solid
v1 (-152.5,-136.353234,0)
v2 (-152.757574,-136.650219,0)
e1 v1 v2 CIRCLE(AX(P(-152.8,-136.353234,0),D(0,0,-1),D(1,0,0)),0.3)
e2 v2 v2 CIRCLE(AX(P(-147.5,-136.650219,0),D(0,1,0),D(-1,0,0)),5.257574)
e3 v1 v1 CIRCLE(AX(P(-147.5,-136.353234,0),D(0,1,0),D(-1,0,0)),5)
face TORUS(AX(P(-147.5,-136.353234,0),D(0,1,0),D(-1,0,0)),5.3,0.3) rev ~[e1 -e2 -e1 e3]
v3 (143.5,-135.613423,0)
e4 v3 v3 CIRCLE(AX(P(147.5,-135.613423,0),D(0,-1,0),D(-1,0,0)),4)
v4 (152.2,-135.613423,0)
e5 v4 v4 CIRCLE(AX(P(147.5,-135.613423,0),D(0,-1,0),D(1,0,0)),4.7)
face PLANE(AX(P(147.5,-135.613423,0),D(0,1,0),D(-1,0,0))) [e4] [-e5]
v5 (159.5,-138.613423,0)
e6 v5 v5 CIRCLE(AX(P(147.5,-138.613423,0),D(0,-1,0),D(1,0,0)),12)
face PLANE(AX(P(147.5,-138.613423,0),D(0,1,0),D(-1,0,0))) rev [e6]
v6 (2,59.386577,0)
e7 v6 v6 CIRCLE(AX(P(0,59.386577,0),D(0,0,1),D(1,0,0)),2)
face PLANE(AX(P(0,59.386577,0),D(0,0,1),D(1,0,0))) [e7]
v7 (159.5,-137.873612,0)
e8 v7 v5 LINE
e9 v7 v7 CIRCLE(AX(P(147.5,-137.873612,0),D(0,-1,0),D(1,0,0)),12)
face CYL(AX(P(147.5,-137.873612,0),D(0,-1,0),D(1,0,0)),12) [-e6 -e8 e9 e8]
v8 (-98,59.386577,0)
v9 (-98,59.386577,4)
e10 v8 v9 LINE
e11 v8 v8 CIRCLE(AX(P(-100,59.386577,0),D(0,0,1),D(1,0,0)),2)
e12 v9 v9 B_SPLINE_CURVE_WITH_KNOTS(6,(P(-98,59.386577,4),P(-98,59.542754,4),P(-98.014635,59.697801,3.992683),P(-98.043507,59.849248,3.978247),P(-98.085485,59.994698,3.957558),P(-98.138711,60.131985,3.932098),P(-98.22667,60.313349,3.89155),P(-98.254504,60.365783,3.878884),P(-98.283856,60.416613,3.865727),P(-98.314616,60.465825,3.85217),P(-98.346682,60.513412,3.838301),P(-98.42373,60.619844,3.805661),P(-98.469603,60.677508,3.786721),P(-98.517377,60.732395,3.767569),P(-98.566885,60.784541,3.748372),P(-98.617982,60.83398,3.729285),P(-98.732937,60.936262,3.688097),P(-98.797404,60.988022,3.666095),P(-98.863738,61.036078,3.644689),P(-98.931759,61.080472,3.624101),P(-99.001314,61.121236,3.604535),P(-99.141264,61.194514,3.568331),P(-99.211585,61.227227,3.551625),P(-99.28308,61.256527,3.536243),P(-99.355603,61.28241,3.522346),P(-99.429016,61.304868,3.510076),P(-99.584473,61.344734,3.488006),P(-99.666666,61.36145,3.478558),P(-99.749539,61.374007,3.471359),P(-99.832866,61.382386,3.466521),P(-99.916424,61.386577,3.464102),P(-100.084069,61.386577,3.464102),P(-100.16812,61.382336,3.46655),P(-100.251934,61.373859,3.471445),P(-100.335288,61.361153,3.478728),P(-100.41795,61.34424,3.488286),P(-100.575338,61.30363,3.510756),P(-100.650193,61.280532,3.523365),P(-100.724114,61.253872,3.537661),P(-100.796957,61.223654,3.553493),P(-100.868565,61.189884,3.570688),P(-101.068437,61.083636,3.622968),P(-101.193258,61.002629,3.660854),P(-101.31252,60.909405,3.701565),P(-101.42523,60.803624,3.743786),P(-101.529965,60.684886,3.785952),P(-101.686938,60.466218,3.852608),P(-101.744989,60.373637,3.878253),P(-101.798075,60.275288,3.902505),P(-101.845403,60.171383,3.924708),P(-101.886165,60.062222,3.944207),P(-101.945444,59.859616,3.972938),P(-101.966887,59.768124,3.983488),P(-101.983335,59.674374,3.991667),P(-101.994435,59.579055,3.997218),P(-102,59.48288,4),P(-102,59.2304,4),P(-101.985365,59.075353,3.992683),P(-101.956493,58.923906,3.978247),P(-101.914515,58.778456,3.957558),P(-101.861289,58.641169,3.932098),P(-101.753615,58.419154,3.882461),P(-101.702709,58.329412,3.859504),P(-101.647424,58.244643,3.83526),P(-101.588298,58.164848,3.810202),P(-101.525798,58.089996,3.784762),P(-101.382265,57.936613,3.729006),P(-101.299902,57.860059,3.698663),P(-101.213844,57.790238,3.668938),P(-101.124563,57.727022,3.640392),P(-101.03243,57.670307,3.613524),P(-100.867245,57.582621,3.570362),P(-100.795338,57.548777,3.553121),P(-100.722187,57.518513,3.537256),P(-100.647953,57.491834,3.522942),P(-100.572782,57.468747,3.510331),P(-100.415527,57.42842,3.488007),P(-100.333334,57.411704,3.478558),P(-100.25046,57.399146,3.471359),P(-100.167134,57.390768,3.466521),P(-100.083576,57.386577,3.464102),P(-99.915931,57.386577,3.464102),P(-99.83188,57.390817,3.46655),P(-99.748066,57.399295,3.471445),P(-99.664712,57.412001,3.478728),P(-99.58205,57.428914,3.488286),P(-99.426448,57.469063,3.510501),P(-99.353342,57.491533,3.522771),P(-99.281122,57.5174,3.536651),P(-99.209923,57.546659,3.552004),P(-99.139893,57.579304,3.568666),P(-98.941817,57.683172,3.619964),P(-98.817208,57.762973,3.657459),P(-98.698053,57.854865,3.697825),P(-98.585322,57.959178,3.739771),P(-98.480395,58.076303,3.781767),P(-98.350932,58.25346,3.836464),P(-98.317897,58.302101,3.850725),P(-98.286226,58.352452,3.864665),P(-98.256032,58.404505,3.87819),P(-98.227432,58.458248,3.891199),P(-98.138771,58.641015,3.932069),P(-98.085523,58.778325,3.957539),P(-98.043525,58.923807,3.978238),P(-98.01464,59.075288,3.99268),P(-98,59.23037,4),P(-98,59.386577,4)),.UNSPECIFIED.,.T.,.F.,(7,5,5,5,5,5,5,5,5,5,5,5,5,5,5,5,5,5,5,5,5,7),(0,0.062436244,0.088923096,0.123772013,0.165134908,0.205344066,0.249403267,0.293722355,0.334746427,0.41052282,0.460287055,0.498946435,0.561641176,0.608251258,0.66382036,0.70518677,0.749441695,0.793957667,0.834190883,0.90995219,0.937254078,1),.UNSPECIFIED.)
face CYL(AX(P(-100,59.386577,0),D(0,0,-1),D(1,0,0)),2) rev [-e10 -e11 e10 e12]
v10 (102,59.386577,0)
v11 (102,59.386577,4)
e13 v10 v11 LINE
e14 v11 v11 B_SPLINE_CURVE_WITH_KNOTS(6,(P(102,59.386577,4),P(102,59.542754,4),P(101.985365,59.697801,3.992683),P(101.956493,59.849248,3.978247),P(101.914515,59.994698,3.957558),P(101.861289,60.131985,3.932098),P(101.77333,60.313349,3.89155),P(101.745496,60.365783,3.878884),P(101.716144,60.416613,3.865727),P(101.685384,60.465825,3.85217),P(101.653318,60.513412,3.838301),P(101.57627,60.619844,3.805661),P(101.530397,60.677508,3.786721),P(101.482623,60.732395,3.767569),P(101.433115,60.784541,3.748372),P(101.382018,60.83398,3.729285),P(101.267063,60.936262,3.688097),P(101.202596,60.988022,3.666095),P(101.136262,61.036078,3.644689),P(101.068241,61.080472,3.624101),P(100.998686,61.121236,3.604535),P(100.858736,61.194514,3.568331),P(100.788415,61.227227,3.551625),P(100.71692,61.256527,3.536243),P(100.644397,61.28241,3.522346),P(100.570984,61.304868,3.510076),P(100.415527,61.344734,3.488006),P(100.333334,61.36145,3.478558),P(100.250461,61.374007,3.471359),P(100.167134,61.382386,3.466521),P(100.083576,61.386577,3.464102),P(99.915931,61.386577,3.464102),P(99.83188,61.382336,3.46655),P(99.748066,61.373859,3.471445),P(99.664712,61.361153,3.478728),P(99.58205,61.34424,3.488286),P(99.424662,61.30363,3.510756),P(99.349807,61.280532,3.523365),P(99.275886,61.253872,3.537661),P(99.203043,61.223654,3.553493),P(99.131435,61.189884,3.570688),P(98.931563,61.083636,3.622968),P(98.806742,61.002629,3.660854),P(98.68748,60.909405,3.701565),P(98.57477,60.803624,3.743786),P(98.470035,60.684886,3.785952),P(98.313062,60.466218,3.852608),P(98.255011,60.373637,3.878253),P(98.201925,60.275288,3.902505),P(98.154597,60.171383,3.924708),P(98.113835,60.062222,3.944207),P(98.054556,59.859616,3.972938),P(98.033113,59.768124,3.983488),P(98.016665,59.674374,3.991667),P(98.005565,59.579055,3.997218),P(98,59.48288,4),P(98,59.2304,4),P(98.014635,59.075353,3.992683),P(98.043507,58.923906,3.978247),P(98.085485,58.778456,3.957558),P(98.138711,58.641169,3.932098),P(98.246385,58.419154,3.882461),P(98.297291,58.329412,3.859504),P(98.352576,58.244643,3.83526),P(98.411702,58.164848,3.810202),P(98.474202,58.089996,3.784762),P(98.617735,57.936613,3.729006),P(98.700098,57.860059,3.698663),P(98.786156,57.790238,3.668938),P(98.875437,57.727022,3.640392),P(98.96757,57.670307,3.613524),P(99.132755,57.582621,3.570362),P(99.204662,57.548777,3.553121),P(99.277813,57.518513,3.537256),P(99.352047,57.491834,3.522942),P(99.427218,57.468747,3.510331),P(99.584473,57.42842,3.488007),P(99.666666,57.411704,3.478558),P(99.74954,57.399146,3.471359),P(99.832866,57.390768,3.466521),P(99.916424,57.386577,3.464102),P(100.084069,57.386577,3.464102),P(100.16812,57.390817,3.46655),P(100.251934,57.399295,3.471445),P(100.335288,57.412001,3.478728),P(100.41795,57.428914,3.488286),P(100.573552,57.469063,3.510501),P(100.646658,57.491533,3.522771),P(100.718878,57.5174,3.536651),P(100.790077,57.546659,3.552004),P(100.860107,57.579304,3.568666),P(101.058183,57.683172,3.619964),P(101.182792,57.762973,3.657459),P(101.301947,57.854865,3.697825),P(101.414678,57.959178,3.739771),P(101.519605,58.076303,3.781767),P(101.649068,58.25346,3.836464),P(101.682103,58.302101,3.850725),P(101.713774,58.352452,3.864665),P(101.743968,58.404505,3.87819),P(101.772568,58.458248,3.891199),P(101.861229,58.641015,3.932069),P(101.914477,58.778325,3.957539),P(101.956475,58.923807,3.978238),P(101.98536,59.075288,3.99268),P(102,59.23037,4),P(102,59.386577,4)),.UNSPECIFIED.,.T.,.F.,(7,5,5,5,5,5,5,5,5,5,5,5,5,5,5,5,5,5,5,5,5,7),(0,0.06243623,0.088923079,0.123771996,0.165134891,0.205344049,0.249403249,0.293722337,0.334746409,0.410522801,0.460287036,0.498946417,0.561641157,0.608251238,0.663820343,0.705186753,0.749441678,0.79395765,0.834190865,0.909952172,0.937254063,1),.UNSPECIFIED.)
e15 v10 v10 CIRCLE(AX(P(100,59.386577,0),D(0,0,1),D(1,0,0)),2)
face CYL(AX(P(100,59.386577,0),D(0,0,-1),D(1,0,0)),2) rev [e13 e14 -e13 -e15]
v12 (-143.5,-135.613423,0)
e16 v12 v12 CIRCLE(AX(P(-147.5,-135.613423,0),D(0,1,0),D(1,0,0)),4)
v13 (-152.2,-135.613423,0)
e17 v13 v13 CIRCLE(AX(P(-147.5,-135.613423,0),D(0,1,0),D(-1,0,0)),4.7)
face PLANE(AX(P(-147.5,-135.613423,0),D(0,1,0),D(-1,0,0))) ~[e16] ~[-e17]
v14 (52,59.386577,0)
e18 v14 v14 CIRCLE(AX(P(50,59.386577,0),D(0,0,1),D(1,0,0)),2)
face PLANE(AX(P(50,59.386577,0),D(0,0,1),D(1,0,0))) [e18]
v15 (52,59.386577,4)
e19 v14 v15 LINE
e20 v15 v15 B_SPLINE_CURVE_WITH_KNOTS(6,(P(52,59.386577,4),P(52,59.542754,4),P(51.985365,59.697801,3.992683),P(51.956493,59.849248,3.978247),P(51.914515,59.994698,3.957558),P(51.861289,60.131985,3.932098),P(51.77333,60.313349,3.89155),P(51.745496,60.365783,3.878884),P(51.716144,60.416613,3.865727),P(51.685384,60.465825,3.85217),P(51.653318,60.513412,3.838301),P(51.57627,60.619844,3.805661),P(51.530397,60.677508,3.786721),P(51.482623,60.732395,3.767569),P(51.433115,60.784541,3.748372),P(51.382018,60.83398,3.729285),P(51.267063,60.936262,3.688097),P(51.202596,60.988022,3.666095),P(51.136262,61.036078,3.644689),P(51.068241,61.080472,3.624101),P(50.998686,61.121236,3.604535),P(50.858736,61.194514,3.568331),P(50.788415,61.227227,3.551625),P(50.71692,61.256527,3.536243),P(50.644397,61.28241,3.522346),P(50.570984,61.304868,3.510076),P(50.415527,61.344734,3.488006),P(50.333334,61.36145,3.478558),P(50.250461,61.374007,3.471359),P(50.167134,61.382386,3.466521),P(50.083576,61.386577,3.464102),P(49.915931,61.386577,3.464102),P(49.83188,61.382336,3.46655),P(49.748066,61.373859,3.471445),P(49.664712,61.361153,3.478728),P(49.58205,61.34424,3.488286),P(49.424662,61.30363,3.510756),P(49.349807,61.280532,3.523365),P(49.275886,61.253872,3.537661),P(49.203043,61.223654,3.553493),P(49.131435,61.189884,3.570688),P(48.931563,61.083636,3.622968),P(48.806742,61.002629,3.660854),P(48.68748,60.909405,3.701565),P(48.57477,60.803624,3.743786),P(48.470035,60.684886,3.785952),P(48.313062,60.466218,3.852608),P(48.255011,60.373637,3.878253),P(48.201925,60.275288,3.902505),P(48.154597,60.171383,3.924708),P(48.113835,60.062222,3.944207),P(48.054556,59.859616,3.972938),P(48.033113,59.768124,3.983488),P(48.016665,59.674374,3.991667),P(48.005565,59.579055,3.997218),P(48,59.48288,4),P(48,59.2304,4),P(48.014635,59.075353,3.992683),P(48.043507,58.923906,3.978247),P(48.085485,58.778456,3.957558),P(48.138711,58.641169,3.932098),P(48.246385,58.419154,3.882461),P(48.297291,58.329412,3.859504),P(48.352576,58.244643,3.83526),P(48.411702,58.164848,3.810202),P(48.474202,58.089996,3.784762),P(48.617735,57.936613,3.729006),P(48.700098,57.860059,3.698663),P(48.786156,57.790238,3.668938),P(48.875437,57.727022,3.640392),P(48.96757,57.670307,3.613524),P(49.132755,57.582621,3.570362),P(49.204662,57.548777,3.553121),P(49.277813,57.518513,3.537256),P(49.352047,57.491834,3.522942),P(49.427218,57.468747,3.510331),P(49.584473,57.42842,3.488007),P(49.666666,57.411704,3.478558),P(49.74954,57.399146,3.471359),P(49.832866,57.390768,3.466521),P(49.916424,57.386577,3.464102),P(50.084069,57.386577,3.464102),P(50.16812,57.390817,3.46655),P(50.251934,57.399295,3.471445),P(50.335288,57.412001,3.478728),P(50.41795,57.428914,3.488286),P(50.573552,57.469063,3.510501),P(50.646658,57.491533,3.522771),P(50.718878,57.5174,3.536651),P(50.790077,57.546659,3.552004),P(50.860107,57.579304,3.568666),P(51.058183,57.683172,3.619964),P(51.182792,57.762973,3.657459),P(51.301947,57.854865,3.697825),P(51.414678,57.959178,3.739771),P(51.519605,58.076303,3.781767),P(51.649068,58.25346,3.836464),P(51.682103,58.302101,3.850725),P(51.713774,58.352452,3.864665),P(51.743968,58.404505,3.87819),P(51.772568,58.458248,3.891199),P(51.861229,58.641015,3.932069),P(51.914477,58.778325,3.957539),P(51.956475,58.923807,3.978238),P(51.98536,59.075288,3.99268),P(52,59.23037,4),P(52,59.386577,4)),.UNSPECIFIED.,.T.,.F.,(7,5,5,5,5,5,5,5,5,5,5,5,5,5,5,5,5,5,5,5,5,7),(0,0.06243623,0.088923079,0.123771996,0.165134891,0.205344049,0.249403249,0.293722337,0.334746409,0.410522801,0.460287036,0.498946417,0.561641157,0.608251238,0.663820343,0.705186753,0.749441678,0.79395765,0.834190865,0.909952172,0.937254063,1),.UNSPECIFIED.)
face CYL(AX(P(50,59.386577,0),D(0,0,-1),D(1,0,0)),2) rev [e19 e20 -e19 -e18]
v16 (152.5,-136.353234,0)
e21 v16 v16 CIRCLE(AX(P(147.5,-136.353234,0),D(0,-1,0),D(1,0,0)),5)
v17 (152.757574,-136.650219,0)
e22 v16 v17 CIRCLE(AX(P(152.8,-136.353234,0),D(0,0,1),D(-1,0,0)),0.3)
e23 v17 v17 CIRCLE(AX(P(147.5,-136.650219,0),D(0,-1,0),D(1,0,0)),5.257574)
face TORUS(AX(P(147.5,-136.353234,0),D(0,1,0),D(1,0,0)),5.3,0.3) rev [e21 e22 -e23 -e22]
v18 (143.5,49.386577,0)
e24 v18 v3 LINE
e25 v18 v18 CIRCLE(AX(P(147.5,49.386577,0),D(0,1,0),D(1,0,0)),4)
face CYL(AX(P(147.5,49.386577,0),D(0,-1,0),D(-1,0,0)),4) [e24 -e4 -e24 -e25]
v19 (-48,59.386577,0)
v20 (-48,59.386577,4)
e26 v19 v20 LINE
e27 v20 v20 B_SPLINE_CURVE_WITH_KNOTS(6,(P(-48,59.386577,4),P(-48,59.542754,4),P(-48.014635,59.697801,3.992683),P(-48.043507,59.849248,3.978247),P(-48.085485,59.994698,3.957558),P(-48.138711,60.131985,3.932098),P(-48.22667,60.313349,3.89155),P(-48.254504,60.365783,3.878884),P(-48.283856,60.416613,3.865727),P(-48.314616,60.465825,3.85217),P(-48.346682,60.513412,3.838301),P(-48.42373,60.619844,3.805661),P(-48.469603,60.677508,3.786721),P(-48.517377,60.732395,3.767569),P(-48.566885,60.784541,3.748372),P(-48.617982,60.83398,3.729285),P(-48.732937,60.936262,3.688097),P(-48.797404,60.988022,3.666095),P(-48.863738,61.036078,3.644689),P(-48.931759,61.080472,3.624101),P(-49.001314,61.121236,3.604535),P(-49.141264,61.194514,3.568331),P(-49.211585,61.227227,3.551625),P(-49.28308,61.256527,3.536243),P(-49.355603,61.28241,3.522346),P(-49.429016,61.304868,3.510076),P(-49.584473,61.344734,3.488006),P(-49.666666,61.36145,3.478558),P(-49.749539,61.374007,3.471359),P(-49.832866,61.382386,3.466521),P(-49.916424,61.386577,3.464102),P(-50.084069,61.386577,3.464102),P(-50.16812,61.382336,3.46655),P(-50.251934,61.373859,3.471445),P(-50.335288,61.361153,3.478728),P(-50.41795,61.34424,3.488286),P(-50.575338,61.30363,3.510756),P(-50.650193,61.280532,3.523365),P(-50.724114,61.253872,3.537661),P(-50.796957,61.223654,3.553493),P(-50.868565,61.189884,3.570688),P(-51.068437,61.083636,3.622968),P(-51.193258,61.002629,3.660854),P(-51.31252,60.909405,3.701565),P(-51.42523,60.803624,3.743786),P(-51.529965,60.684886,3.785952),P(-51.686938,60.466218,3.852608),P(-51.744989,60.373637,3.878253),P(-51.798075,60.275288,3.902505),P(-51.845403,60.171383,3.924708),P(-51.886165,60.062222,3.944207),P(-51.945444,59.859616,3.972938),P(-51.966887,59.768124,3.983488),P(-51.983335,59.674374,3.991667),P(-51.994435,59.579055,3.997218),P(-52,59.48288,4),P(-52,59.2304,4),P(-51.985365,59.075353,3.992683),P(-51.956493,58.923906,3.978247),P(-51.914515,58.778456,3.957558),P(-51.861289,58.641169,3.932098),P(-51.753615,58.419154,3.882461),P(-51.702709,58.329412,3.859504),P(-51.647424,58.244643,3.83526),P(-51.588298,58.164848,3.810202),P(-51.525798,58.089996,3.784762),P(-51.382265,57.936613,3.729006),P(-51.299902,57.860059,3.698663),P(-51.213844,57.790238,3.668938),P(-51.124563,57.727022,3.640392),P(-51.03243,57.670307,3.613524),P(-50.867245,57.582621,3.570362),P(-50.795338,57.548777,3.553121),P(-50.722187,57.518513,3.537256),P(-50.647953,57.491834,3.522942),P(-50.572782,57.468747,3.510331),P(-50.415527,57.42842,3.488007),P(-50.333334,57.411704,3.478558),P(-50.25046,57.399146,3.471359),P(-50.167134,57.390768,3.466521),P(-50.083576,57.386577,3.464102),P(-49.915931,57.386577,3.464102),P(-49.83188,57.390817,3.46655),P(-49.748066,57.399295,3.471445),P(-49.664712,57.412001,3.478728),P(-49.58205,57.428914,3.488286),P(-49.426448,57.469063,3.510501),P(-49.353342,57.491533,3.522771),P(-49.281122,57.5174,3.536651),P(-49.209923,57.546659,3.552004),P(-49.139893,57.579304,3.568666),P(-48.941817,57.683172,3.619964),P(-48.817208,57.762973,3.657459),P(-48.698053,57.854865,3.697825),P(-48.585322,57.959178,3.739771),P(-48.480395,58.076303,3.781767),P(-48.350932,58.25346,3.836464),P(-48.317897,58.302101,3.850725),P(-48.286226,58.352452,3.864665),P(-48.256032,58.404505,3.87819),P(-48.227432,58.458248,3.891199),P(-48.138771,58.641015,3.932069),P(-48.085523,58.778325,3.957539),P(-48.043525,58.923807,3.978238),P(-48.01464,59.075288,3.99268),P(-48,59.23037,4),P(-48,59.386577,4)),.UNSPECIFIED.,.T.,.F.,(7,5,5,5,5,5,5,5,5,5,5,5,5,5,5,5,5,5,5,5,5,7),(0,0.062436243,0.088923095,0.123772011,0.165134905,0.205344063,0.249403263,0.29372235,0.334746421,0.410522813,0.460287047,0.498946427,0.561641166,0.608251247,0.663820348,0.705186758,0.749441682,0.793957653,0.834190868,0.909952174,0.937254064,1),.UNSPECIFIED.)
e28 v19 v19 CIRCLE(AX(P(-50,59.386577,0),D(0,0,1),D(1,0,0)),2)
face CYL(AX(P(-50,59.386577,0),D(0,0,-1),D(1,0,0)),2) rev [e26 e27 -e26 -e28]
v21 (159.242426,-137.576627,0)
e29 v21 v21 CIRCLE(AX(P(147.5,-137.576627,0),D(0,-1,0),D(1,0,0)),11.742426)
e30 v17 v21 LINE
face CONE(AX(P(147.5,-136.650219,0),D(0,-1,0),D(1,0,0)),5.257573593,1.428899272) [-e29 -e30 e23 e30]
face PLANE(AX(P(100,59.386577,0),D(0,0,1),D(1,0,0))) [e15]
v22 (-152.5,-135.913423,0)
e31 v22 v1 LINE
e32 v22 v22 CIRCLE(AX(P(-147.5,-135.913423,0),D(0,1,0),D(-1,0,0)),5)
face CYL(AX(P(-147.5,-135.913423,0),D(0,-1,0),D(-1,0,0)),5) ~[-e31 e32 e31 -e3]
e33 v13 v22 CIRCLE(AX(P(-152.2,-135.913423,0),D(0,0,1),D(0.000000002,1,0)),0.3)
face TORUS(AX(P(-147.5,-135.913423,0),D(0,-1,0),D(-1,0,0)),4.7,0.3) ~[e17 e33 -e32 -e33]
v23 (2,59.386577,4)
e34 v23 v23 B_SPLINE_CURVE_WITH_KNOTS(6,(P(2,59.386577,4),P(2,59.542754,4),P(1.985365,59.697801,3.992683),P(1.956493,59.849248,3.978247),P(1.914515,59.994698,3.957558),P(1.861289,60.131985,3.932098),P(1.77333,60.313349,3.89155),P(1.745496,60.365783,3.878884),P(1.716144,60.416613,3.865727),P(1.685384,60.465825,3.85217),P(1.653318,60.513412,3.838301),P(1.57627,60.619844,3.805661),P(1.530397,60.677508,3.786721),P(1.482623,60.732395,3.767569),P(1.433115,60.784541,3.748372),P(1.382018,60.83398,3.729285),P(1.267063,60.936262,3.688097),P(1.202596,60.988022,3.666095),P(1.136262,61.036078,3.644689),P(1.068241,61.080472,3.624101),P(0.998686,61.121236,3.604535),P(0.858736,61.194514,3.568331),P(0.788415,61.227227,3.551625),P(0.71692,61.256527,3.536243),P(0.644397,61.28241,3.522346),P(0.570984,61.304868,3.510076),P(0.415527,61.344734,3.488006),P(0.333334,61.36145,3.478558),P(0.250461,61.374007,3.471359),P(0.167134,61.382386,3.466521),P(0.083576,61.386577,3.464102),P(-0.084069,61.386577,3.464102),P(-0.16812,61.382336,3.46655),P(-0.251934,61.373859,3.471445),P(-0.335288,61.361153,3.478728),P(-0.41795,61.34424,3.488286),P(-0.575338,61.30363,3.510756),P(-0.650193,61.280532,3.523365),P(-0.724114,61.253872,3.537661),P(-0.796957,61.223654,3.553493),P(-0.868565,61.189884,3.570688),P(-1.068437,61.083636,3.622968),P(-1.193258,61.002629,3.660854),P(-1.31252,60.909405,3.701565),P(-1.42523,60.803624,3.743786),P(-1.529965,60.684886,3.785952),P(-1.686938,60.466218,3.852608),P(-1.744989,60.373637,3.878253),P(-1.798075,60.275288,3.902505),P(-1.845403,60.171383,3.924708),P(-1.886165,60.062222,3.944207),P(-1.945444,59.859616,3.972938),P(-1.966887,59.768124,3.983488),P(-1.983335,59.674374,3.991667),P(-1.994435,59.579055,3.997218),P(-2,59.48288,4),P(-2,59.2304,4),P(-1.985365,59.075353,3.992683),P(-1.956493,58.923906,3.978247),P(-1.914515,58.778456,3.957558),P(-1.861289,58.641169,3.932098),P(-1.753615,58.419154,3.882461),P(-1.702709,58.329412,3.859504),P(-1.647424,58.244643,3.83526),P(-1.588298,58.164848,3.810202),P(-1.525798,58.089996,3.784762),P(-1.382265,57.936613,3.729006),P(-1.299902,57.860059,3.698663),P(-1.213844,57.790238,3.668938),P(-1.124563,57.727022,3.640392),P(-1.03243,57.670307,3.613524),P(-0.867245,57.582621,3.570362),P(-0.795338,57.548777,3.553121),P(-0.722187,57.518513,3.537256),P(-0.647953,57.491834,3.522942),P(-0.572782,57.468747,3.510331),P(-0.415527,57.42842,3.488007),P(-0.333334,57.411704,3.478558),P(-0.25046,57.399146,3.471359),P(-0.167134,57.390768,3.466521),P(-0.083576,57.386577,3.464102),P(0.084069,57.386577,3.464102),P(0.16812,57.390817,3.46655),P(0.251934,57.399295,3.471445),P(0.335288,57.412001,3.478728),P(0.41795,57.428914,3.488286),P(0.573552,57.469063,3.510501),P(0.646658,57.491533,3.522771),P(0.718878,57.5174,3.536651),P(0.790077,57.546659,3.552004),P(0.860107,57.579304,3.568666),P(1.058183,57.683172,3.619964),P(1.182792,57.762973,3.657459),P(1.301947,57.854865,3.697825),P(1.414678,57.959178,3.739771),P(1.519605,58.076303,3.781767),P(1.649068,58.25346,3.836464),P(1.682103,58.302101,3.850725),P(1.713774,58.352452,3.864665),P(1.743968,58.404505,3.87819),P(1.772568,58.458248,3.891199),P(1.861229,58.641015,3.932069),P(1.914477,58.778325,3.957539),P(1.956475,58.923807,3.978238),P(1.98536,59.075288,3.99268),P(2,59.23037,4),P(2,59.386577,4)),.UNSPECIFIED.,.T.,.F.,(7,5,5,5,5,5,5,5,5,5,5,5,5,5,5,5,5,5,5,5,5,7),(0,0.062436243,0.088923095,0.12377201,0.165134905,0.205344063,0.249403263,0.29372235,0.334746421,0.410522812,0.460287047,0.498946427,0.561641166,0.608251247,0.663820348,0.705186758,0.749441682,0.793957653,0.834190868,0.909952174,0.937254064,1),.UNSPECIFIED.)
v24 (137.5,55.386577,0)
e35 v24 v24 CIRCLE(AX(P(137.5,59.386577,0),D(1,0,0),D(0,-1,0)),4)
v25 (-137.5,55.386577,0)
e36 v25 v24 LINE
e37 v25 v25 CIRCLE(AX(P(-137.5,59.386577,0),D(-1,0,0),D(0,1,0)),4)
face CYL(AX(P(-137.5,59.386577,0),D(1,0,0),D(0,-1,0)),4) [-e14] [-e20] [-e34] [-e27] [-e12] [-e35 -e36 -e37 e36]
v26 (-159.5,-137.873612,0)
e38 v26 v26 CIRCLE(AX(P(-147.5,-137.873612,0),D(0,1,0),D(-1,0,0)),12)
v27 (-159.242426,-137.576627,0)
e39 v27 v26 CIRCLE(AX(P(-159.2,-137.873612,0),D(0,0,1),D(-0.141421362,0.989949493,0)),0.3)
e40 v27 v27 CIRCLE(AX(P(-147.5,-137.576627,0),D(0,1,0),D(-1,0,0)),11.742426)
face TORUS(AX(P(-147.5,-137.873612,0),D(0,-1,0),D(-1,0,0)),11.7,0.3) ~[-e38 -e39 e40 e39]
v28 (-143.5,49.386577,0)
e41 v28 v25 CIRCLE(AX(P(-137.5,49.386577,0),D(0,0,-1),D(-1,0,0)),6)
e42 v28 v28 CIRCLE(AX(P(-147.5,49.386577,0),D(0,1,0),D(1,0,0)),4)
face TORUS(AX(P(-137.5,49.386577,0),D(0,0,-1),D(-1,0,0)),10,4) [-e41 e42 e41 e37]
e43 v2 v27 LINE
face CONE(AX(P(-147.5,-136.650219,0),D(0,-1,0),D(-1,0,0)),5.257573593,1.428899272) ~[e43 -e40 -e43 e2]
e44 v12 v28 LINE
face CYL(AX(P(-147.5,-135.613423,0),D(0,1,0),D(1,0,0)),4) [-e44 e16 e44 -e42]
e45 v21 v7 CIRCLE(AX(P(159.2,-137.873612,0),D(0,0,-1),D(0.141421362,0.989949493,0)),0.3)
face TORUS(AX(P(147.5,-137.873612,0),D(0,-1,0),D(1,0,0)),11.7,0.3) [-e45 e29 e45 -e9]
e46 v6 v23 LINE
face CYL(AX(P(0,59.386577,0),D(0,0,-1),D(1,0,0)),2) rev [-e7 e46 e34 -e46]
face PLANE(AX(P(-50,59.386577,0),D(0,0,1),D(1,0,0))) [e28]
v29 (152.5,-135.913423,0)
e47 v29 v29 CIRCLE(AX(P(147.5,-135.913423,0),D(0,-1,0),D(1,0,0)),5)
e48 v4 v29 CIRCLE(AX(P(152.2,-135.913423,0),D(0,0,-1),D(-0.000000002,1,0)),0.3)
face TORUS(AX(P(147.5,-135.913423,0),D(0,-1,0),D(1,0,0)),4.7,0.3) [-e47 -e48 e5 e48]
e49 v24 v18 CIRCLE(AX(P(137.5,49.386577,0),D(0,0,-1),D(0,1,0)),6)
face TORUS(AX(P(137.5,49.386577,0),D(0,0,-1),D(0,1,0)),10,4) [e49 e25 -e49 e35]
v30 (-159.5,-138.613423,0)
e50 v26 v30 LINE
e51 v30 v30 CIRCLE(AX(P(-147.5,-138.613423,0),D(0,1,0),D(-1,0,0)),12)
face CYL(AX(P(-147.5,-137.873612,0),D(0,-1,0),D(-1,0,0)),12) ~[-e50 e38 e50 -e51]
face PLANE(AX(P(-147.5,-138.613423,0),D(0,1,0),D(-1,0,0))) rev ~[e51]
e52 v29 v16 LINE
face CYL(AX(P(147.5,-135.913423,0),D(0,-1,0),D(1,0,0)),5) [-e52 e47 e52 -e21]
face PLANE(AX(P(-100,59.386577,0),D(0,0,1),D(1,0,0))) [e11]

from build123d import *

# Parameters (mm, degrees)
SWEEP1_PROFILE_R   = 4
SKETCH7_R          = 2
CUT_EXTRUDE1_DEPTH = 5.0000001


with BuildPart() as part:
    # Sweep1: sweep along a path in Sketch2
    with BuildLine(Plane.XY) as sweep1_path:
        Line((-147.5, -135.613423102), (-147.5, 49.386576898))
        ThreePointArc((-147.5, 49.386576898), (-144.571067812, 56.45764471), (-137.5, 59.386576898))
        Line((-137.5, 59.386576898), (137.5, 59.386576898))
        ThreePointArc((137.5, 59.386576898), (144.571067812, 56.45764471), (147.5, 49.386576898))
        Line((147.5, 49.386576898), (147.5, -135.613423102))
    # Sweep1 profile (on start of the path) → Sweep1 (sweep)
    with BuildSketch(Plane(origin=(-147.5, -135.613423102, 0), x_dir=(1, 0, 0), z_dir=(0, 1, 0))):
        Circle(SWEEP1_PROFILE_R)
    sweep(path=sweep1_path.line)

    # Sketch7 → Cut-Extrude1 (cut, through all)
    with BuildSketch(Plane.XY):
        with Locations((-100, 59.386576898)):
            Circle(SKETCH7_R)
        with Locations((-50, 59.386576898)):
            Circle(SKETCH7_R)
        with Locations((0, 59.386576898)):
            Circle(SKETCH7_R)
        with Locations((50, 59.386576898)):
            Circle(SKETCH7_R)
        with Locations((100, 59.386576898)):
            Circle(SKETCH7_R)
    extrude(amount=CUT_EXTRUDE1_DEPTH, mode=Mode.SUBTRACT)

    # Sketch8 → Revolve1 (revolve)
    with BuildSketch(Plane.XY):
        with BuildLine():
            Line((-147.5, -135.613423102), (-152.2, -135.613423102))
            ThreePointArc((-152.2, -135.613423102), (-152.412132034, -135.701291067), (-152.5, -135.913423102))
            Line((-152.5, -135.913423102), (-152.5, -136.353234481))
            ThreePointArc((-152.5, -136.353234481), (-152.573363814, -136.549795004), (-152.757573593, -136.650219329))
            Line((-152.757573593, -136.650219329), (-159.242426407, -137.576626874))
            ThreePointArc((-159.242426407, -137.576626874), (-159.426636186, -137.6770512), (-159.5, -137.873611722))
            Line((-159.5, -137.873611722), (-159.5, -138.613423102))
            Line((-159.5, -138.613423102), (-147.5, -138.613423102))
            Line((-147.5, -138.613423102), (-147.5, -135.613423102))
        make_face()
    revolve1 = revolve(axis=Axis((-147.5, -138.613423102, 0), (0, 1, 0)))

    # Mirror1: Revolve1 across plane
    add(revolve1.mirror(Plane(origin=(0, 0, 0), x_dir=(0, 0, 1), z_dir=(1, 0, 0))))


solid = part.part
